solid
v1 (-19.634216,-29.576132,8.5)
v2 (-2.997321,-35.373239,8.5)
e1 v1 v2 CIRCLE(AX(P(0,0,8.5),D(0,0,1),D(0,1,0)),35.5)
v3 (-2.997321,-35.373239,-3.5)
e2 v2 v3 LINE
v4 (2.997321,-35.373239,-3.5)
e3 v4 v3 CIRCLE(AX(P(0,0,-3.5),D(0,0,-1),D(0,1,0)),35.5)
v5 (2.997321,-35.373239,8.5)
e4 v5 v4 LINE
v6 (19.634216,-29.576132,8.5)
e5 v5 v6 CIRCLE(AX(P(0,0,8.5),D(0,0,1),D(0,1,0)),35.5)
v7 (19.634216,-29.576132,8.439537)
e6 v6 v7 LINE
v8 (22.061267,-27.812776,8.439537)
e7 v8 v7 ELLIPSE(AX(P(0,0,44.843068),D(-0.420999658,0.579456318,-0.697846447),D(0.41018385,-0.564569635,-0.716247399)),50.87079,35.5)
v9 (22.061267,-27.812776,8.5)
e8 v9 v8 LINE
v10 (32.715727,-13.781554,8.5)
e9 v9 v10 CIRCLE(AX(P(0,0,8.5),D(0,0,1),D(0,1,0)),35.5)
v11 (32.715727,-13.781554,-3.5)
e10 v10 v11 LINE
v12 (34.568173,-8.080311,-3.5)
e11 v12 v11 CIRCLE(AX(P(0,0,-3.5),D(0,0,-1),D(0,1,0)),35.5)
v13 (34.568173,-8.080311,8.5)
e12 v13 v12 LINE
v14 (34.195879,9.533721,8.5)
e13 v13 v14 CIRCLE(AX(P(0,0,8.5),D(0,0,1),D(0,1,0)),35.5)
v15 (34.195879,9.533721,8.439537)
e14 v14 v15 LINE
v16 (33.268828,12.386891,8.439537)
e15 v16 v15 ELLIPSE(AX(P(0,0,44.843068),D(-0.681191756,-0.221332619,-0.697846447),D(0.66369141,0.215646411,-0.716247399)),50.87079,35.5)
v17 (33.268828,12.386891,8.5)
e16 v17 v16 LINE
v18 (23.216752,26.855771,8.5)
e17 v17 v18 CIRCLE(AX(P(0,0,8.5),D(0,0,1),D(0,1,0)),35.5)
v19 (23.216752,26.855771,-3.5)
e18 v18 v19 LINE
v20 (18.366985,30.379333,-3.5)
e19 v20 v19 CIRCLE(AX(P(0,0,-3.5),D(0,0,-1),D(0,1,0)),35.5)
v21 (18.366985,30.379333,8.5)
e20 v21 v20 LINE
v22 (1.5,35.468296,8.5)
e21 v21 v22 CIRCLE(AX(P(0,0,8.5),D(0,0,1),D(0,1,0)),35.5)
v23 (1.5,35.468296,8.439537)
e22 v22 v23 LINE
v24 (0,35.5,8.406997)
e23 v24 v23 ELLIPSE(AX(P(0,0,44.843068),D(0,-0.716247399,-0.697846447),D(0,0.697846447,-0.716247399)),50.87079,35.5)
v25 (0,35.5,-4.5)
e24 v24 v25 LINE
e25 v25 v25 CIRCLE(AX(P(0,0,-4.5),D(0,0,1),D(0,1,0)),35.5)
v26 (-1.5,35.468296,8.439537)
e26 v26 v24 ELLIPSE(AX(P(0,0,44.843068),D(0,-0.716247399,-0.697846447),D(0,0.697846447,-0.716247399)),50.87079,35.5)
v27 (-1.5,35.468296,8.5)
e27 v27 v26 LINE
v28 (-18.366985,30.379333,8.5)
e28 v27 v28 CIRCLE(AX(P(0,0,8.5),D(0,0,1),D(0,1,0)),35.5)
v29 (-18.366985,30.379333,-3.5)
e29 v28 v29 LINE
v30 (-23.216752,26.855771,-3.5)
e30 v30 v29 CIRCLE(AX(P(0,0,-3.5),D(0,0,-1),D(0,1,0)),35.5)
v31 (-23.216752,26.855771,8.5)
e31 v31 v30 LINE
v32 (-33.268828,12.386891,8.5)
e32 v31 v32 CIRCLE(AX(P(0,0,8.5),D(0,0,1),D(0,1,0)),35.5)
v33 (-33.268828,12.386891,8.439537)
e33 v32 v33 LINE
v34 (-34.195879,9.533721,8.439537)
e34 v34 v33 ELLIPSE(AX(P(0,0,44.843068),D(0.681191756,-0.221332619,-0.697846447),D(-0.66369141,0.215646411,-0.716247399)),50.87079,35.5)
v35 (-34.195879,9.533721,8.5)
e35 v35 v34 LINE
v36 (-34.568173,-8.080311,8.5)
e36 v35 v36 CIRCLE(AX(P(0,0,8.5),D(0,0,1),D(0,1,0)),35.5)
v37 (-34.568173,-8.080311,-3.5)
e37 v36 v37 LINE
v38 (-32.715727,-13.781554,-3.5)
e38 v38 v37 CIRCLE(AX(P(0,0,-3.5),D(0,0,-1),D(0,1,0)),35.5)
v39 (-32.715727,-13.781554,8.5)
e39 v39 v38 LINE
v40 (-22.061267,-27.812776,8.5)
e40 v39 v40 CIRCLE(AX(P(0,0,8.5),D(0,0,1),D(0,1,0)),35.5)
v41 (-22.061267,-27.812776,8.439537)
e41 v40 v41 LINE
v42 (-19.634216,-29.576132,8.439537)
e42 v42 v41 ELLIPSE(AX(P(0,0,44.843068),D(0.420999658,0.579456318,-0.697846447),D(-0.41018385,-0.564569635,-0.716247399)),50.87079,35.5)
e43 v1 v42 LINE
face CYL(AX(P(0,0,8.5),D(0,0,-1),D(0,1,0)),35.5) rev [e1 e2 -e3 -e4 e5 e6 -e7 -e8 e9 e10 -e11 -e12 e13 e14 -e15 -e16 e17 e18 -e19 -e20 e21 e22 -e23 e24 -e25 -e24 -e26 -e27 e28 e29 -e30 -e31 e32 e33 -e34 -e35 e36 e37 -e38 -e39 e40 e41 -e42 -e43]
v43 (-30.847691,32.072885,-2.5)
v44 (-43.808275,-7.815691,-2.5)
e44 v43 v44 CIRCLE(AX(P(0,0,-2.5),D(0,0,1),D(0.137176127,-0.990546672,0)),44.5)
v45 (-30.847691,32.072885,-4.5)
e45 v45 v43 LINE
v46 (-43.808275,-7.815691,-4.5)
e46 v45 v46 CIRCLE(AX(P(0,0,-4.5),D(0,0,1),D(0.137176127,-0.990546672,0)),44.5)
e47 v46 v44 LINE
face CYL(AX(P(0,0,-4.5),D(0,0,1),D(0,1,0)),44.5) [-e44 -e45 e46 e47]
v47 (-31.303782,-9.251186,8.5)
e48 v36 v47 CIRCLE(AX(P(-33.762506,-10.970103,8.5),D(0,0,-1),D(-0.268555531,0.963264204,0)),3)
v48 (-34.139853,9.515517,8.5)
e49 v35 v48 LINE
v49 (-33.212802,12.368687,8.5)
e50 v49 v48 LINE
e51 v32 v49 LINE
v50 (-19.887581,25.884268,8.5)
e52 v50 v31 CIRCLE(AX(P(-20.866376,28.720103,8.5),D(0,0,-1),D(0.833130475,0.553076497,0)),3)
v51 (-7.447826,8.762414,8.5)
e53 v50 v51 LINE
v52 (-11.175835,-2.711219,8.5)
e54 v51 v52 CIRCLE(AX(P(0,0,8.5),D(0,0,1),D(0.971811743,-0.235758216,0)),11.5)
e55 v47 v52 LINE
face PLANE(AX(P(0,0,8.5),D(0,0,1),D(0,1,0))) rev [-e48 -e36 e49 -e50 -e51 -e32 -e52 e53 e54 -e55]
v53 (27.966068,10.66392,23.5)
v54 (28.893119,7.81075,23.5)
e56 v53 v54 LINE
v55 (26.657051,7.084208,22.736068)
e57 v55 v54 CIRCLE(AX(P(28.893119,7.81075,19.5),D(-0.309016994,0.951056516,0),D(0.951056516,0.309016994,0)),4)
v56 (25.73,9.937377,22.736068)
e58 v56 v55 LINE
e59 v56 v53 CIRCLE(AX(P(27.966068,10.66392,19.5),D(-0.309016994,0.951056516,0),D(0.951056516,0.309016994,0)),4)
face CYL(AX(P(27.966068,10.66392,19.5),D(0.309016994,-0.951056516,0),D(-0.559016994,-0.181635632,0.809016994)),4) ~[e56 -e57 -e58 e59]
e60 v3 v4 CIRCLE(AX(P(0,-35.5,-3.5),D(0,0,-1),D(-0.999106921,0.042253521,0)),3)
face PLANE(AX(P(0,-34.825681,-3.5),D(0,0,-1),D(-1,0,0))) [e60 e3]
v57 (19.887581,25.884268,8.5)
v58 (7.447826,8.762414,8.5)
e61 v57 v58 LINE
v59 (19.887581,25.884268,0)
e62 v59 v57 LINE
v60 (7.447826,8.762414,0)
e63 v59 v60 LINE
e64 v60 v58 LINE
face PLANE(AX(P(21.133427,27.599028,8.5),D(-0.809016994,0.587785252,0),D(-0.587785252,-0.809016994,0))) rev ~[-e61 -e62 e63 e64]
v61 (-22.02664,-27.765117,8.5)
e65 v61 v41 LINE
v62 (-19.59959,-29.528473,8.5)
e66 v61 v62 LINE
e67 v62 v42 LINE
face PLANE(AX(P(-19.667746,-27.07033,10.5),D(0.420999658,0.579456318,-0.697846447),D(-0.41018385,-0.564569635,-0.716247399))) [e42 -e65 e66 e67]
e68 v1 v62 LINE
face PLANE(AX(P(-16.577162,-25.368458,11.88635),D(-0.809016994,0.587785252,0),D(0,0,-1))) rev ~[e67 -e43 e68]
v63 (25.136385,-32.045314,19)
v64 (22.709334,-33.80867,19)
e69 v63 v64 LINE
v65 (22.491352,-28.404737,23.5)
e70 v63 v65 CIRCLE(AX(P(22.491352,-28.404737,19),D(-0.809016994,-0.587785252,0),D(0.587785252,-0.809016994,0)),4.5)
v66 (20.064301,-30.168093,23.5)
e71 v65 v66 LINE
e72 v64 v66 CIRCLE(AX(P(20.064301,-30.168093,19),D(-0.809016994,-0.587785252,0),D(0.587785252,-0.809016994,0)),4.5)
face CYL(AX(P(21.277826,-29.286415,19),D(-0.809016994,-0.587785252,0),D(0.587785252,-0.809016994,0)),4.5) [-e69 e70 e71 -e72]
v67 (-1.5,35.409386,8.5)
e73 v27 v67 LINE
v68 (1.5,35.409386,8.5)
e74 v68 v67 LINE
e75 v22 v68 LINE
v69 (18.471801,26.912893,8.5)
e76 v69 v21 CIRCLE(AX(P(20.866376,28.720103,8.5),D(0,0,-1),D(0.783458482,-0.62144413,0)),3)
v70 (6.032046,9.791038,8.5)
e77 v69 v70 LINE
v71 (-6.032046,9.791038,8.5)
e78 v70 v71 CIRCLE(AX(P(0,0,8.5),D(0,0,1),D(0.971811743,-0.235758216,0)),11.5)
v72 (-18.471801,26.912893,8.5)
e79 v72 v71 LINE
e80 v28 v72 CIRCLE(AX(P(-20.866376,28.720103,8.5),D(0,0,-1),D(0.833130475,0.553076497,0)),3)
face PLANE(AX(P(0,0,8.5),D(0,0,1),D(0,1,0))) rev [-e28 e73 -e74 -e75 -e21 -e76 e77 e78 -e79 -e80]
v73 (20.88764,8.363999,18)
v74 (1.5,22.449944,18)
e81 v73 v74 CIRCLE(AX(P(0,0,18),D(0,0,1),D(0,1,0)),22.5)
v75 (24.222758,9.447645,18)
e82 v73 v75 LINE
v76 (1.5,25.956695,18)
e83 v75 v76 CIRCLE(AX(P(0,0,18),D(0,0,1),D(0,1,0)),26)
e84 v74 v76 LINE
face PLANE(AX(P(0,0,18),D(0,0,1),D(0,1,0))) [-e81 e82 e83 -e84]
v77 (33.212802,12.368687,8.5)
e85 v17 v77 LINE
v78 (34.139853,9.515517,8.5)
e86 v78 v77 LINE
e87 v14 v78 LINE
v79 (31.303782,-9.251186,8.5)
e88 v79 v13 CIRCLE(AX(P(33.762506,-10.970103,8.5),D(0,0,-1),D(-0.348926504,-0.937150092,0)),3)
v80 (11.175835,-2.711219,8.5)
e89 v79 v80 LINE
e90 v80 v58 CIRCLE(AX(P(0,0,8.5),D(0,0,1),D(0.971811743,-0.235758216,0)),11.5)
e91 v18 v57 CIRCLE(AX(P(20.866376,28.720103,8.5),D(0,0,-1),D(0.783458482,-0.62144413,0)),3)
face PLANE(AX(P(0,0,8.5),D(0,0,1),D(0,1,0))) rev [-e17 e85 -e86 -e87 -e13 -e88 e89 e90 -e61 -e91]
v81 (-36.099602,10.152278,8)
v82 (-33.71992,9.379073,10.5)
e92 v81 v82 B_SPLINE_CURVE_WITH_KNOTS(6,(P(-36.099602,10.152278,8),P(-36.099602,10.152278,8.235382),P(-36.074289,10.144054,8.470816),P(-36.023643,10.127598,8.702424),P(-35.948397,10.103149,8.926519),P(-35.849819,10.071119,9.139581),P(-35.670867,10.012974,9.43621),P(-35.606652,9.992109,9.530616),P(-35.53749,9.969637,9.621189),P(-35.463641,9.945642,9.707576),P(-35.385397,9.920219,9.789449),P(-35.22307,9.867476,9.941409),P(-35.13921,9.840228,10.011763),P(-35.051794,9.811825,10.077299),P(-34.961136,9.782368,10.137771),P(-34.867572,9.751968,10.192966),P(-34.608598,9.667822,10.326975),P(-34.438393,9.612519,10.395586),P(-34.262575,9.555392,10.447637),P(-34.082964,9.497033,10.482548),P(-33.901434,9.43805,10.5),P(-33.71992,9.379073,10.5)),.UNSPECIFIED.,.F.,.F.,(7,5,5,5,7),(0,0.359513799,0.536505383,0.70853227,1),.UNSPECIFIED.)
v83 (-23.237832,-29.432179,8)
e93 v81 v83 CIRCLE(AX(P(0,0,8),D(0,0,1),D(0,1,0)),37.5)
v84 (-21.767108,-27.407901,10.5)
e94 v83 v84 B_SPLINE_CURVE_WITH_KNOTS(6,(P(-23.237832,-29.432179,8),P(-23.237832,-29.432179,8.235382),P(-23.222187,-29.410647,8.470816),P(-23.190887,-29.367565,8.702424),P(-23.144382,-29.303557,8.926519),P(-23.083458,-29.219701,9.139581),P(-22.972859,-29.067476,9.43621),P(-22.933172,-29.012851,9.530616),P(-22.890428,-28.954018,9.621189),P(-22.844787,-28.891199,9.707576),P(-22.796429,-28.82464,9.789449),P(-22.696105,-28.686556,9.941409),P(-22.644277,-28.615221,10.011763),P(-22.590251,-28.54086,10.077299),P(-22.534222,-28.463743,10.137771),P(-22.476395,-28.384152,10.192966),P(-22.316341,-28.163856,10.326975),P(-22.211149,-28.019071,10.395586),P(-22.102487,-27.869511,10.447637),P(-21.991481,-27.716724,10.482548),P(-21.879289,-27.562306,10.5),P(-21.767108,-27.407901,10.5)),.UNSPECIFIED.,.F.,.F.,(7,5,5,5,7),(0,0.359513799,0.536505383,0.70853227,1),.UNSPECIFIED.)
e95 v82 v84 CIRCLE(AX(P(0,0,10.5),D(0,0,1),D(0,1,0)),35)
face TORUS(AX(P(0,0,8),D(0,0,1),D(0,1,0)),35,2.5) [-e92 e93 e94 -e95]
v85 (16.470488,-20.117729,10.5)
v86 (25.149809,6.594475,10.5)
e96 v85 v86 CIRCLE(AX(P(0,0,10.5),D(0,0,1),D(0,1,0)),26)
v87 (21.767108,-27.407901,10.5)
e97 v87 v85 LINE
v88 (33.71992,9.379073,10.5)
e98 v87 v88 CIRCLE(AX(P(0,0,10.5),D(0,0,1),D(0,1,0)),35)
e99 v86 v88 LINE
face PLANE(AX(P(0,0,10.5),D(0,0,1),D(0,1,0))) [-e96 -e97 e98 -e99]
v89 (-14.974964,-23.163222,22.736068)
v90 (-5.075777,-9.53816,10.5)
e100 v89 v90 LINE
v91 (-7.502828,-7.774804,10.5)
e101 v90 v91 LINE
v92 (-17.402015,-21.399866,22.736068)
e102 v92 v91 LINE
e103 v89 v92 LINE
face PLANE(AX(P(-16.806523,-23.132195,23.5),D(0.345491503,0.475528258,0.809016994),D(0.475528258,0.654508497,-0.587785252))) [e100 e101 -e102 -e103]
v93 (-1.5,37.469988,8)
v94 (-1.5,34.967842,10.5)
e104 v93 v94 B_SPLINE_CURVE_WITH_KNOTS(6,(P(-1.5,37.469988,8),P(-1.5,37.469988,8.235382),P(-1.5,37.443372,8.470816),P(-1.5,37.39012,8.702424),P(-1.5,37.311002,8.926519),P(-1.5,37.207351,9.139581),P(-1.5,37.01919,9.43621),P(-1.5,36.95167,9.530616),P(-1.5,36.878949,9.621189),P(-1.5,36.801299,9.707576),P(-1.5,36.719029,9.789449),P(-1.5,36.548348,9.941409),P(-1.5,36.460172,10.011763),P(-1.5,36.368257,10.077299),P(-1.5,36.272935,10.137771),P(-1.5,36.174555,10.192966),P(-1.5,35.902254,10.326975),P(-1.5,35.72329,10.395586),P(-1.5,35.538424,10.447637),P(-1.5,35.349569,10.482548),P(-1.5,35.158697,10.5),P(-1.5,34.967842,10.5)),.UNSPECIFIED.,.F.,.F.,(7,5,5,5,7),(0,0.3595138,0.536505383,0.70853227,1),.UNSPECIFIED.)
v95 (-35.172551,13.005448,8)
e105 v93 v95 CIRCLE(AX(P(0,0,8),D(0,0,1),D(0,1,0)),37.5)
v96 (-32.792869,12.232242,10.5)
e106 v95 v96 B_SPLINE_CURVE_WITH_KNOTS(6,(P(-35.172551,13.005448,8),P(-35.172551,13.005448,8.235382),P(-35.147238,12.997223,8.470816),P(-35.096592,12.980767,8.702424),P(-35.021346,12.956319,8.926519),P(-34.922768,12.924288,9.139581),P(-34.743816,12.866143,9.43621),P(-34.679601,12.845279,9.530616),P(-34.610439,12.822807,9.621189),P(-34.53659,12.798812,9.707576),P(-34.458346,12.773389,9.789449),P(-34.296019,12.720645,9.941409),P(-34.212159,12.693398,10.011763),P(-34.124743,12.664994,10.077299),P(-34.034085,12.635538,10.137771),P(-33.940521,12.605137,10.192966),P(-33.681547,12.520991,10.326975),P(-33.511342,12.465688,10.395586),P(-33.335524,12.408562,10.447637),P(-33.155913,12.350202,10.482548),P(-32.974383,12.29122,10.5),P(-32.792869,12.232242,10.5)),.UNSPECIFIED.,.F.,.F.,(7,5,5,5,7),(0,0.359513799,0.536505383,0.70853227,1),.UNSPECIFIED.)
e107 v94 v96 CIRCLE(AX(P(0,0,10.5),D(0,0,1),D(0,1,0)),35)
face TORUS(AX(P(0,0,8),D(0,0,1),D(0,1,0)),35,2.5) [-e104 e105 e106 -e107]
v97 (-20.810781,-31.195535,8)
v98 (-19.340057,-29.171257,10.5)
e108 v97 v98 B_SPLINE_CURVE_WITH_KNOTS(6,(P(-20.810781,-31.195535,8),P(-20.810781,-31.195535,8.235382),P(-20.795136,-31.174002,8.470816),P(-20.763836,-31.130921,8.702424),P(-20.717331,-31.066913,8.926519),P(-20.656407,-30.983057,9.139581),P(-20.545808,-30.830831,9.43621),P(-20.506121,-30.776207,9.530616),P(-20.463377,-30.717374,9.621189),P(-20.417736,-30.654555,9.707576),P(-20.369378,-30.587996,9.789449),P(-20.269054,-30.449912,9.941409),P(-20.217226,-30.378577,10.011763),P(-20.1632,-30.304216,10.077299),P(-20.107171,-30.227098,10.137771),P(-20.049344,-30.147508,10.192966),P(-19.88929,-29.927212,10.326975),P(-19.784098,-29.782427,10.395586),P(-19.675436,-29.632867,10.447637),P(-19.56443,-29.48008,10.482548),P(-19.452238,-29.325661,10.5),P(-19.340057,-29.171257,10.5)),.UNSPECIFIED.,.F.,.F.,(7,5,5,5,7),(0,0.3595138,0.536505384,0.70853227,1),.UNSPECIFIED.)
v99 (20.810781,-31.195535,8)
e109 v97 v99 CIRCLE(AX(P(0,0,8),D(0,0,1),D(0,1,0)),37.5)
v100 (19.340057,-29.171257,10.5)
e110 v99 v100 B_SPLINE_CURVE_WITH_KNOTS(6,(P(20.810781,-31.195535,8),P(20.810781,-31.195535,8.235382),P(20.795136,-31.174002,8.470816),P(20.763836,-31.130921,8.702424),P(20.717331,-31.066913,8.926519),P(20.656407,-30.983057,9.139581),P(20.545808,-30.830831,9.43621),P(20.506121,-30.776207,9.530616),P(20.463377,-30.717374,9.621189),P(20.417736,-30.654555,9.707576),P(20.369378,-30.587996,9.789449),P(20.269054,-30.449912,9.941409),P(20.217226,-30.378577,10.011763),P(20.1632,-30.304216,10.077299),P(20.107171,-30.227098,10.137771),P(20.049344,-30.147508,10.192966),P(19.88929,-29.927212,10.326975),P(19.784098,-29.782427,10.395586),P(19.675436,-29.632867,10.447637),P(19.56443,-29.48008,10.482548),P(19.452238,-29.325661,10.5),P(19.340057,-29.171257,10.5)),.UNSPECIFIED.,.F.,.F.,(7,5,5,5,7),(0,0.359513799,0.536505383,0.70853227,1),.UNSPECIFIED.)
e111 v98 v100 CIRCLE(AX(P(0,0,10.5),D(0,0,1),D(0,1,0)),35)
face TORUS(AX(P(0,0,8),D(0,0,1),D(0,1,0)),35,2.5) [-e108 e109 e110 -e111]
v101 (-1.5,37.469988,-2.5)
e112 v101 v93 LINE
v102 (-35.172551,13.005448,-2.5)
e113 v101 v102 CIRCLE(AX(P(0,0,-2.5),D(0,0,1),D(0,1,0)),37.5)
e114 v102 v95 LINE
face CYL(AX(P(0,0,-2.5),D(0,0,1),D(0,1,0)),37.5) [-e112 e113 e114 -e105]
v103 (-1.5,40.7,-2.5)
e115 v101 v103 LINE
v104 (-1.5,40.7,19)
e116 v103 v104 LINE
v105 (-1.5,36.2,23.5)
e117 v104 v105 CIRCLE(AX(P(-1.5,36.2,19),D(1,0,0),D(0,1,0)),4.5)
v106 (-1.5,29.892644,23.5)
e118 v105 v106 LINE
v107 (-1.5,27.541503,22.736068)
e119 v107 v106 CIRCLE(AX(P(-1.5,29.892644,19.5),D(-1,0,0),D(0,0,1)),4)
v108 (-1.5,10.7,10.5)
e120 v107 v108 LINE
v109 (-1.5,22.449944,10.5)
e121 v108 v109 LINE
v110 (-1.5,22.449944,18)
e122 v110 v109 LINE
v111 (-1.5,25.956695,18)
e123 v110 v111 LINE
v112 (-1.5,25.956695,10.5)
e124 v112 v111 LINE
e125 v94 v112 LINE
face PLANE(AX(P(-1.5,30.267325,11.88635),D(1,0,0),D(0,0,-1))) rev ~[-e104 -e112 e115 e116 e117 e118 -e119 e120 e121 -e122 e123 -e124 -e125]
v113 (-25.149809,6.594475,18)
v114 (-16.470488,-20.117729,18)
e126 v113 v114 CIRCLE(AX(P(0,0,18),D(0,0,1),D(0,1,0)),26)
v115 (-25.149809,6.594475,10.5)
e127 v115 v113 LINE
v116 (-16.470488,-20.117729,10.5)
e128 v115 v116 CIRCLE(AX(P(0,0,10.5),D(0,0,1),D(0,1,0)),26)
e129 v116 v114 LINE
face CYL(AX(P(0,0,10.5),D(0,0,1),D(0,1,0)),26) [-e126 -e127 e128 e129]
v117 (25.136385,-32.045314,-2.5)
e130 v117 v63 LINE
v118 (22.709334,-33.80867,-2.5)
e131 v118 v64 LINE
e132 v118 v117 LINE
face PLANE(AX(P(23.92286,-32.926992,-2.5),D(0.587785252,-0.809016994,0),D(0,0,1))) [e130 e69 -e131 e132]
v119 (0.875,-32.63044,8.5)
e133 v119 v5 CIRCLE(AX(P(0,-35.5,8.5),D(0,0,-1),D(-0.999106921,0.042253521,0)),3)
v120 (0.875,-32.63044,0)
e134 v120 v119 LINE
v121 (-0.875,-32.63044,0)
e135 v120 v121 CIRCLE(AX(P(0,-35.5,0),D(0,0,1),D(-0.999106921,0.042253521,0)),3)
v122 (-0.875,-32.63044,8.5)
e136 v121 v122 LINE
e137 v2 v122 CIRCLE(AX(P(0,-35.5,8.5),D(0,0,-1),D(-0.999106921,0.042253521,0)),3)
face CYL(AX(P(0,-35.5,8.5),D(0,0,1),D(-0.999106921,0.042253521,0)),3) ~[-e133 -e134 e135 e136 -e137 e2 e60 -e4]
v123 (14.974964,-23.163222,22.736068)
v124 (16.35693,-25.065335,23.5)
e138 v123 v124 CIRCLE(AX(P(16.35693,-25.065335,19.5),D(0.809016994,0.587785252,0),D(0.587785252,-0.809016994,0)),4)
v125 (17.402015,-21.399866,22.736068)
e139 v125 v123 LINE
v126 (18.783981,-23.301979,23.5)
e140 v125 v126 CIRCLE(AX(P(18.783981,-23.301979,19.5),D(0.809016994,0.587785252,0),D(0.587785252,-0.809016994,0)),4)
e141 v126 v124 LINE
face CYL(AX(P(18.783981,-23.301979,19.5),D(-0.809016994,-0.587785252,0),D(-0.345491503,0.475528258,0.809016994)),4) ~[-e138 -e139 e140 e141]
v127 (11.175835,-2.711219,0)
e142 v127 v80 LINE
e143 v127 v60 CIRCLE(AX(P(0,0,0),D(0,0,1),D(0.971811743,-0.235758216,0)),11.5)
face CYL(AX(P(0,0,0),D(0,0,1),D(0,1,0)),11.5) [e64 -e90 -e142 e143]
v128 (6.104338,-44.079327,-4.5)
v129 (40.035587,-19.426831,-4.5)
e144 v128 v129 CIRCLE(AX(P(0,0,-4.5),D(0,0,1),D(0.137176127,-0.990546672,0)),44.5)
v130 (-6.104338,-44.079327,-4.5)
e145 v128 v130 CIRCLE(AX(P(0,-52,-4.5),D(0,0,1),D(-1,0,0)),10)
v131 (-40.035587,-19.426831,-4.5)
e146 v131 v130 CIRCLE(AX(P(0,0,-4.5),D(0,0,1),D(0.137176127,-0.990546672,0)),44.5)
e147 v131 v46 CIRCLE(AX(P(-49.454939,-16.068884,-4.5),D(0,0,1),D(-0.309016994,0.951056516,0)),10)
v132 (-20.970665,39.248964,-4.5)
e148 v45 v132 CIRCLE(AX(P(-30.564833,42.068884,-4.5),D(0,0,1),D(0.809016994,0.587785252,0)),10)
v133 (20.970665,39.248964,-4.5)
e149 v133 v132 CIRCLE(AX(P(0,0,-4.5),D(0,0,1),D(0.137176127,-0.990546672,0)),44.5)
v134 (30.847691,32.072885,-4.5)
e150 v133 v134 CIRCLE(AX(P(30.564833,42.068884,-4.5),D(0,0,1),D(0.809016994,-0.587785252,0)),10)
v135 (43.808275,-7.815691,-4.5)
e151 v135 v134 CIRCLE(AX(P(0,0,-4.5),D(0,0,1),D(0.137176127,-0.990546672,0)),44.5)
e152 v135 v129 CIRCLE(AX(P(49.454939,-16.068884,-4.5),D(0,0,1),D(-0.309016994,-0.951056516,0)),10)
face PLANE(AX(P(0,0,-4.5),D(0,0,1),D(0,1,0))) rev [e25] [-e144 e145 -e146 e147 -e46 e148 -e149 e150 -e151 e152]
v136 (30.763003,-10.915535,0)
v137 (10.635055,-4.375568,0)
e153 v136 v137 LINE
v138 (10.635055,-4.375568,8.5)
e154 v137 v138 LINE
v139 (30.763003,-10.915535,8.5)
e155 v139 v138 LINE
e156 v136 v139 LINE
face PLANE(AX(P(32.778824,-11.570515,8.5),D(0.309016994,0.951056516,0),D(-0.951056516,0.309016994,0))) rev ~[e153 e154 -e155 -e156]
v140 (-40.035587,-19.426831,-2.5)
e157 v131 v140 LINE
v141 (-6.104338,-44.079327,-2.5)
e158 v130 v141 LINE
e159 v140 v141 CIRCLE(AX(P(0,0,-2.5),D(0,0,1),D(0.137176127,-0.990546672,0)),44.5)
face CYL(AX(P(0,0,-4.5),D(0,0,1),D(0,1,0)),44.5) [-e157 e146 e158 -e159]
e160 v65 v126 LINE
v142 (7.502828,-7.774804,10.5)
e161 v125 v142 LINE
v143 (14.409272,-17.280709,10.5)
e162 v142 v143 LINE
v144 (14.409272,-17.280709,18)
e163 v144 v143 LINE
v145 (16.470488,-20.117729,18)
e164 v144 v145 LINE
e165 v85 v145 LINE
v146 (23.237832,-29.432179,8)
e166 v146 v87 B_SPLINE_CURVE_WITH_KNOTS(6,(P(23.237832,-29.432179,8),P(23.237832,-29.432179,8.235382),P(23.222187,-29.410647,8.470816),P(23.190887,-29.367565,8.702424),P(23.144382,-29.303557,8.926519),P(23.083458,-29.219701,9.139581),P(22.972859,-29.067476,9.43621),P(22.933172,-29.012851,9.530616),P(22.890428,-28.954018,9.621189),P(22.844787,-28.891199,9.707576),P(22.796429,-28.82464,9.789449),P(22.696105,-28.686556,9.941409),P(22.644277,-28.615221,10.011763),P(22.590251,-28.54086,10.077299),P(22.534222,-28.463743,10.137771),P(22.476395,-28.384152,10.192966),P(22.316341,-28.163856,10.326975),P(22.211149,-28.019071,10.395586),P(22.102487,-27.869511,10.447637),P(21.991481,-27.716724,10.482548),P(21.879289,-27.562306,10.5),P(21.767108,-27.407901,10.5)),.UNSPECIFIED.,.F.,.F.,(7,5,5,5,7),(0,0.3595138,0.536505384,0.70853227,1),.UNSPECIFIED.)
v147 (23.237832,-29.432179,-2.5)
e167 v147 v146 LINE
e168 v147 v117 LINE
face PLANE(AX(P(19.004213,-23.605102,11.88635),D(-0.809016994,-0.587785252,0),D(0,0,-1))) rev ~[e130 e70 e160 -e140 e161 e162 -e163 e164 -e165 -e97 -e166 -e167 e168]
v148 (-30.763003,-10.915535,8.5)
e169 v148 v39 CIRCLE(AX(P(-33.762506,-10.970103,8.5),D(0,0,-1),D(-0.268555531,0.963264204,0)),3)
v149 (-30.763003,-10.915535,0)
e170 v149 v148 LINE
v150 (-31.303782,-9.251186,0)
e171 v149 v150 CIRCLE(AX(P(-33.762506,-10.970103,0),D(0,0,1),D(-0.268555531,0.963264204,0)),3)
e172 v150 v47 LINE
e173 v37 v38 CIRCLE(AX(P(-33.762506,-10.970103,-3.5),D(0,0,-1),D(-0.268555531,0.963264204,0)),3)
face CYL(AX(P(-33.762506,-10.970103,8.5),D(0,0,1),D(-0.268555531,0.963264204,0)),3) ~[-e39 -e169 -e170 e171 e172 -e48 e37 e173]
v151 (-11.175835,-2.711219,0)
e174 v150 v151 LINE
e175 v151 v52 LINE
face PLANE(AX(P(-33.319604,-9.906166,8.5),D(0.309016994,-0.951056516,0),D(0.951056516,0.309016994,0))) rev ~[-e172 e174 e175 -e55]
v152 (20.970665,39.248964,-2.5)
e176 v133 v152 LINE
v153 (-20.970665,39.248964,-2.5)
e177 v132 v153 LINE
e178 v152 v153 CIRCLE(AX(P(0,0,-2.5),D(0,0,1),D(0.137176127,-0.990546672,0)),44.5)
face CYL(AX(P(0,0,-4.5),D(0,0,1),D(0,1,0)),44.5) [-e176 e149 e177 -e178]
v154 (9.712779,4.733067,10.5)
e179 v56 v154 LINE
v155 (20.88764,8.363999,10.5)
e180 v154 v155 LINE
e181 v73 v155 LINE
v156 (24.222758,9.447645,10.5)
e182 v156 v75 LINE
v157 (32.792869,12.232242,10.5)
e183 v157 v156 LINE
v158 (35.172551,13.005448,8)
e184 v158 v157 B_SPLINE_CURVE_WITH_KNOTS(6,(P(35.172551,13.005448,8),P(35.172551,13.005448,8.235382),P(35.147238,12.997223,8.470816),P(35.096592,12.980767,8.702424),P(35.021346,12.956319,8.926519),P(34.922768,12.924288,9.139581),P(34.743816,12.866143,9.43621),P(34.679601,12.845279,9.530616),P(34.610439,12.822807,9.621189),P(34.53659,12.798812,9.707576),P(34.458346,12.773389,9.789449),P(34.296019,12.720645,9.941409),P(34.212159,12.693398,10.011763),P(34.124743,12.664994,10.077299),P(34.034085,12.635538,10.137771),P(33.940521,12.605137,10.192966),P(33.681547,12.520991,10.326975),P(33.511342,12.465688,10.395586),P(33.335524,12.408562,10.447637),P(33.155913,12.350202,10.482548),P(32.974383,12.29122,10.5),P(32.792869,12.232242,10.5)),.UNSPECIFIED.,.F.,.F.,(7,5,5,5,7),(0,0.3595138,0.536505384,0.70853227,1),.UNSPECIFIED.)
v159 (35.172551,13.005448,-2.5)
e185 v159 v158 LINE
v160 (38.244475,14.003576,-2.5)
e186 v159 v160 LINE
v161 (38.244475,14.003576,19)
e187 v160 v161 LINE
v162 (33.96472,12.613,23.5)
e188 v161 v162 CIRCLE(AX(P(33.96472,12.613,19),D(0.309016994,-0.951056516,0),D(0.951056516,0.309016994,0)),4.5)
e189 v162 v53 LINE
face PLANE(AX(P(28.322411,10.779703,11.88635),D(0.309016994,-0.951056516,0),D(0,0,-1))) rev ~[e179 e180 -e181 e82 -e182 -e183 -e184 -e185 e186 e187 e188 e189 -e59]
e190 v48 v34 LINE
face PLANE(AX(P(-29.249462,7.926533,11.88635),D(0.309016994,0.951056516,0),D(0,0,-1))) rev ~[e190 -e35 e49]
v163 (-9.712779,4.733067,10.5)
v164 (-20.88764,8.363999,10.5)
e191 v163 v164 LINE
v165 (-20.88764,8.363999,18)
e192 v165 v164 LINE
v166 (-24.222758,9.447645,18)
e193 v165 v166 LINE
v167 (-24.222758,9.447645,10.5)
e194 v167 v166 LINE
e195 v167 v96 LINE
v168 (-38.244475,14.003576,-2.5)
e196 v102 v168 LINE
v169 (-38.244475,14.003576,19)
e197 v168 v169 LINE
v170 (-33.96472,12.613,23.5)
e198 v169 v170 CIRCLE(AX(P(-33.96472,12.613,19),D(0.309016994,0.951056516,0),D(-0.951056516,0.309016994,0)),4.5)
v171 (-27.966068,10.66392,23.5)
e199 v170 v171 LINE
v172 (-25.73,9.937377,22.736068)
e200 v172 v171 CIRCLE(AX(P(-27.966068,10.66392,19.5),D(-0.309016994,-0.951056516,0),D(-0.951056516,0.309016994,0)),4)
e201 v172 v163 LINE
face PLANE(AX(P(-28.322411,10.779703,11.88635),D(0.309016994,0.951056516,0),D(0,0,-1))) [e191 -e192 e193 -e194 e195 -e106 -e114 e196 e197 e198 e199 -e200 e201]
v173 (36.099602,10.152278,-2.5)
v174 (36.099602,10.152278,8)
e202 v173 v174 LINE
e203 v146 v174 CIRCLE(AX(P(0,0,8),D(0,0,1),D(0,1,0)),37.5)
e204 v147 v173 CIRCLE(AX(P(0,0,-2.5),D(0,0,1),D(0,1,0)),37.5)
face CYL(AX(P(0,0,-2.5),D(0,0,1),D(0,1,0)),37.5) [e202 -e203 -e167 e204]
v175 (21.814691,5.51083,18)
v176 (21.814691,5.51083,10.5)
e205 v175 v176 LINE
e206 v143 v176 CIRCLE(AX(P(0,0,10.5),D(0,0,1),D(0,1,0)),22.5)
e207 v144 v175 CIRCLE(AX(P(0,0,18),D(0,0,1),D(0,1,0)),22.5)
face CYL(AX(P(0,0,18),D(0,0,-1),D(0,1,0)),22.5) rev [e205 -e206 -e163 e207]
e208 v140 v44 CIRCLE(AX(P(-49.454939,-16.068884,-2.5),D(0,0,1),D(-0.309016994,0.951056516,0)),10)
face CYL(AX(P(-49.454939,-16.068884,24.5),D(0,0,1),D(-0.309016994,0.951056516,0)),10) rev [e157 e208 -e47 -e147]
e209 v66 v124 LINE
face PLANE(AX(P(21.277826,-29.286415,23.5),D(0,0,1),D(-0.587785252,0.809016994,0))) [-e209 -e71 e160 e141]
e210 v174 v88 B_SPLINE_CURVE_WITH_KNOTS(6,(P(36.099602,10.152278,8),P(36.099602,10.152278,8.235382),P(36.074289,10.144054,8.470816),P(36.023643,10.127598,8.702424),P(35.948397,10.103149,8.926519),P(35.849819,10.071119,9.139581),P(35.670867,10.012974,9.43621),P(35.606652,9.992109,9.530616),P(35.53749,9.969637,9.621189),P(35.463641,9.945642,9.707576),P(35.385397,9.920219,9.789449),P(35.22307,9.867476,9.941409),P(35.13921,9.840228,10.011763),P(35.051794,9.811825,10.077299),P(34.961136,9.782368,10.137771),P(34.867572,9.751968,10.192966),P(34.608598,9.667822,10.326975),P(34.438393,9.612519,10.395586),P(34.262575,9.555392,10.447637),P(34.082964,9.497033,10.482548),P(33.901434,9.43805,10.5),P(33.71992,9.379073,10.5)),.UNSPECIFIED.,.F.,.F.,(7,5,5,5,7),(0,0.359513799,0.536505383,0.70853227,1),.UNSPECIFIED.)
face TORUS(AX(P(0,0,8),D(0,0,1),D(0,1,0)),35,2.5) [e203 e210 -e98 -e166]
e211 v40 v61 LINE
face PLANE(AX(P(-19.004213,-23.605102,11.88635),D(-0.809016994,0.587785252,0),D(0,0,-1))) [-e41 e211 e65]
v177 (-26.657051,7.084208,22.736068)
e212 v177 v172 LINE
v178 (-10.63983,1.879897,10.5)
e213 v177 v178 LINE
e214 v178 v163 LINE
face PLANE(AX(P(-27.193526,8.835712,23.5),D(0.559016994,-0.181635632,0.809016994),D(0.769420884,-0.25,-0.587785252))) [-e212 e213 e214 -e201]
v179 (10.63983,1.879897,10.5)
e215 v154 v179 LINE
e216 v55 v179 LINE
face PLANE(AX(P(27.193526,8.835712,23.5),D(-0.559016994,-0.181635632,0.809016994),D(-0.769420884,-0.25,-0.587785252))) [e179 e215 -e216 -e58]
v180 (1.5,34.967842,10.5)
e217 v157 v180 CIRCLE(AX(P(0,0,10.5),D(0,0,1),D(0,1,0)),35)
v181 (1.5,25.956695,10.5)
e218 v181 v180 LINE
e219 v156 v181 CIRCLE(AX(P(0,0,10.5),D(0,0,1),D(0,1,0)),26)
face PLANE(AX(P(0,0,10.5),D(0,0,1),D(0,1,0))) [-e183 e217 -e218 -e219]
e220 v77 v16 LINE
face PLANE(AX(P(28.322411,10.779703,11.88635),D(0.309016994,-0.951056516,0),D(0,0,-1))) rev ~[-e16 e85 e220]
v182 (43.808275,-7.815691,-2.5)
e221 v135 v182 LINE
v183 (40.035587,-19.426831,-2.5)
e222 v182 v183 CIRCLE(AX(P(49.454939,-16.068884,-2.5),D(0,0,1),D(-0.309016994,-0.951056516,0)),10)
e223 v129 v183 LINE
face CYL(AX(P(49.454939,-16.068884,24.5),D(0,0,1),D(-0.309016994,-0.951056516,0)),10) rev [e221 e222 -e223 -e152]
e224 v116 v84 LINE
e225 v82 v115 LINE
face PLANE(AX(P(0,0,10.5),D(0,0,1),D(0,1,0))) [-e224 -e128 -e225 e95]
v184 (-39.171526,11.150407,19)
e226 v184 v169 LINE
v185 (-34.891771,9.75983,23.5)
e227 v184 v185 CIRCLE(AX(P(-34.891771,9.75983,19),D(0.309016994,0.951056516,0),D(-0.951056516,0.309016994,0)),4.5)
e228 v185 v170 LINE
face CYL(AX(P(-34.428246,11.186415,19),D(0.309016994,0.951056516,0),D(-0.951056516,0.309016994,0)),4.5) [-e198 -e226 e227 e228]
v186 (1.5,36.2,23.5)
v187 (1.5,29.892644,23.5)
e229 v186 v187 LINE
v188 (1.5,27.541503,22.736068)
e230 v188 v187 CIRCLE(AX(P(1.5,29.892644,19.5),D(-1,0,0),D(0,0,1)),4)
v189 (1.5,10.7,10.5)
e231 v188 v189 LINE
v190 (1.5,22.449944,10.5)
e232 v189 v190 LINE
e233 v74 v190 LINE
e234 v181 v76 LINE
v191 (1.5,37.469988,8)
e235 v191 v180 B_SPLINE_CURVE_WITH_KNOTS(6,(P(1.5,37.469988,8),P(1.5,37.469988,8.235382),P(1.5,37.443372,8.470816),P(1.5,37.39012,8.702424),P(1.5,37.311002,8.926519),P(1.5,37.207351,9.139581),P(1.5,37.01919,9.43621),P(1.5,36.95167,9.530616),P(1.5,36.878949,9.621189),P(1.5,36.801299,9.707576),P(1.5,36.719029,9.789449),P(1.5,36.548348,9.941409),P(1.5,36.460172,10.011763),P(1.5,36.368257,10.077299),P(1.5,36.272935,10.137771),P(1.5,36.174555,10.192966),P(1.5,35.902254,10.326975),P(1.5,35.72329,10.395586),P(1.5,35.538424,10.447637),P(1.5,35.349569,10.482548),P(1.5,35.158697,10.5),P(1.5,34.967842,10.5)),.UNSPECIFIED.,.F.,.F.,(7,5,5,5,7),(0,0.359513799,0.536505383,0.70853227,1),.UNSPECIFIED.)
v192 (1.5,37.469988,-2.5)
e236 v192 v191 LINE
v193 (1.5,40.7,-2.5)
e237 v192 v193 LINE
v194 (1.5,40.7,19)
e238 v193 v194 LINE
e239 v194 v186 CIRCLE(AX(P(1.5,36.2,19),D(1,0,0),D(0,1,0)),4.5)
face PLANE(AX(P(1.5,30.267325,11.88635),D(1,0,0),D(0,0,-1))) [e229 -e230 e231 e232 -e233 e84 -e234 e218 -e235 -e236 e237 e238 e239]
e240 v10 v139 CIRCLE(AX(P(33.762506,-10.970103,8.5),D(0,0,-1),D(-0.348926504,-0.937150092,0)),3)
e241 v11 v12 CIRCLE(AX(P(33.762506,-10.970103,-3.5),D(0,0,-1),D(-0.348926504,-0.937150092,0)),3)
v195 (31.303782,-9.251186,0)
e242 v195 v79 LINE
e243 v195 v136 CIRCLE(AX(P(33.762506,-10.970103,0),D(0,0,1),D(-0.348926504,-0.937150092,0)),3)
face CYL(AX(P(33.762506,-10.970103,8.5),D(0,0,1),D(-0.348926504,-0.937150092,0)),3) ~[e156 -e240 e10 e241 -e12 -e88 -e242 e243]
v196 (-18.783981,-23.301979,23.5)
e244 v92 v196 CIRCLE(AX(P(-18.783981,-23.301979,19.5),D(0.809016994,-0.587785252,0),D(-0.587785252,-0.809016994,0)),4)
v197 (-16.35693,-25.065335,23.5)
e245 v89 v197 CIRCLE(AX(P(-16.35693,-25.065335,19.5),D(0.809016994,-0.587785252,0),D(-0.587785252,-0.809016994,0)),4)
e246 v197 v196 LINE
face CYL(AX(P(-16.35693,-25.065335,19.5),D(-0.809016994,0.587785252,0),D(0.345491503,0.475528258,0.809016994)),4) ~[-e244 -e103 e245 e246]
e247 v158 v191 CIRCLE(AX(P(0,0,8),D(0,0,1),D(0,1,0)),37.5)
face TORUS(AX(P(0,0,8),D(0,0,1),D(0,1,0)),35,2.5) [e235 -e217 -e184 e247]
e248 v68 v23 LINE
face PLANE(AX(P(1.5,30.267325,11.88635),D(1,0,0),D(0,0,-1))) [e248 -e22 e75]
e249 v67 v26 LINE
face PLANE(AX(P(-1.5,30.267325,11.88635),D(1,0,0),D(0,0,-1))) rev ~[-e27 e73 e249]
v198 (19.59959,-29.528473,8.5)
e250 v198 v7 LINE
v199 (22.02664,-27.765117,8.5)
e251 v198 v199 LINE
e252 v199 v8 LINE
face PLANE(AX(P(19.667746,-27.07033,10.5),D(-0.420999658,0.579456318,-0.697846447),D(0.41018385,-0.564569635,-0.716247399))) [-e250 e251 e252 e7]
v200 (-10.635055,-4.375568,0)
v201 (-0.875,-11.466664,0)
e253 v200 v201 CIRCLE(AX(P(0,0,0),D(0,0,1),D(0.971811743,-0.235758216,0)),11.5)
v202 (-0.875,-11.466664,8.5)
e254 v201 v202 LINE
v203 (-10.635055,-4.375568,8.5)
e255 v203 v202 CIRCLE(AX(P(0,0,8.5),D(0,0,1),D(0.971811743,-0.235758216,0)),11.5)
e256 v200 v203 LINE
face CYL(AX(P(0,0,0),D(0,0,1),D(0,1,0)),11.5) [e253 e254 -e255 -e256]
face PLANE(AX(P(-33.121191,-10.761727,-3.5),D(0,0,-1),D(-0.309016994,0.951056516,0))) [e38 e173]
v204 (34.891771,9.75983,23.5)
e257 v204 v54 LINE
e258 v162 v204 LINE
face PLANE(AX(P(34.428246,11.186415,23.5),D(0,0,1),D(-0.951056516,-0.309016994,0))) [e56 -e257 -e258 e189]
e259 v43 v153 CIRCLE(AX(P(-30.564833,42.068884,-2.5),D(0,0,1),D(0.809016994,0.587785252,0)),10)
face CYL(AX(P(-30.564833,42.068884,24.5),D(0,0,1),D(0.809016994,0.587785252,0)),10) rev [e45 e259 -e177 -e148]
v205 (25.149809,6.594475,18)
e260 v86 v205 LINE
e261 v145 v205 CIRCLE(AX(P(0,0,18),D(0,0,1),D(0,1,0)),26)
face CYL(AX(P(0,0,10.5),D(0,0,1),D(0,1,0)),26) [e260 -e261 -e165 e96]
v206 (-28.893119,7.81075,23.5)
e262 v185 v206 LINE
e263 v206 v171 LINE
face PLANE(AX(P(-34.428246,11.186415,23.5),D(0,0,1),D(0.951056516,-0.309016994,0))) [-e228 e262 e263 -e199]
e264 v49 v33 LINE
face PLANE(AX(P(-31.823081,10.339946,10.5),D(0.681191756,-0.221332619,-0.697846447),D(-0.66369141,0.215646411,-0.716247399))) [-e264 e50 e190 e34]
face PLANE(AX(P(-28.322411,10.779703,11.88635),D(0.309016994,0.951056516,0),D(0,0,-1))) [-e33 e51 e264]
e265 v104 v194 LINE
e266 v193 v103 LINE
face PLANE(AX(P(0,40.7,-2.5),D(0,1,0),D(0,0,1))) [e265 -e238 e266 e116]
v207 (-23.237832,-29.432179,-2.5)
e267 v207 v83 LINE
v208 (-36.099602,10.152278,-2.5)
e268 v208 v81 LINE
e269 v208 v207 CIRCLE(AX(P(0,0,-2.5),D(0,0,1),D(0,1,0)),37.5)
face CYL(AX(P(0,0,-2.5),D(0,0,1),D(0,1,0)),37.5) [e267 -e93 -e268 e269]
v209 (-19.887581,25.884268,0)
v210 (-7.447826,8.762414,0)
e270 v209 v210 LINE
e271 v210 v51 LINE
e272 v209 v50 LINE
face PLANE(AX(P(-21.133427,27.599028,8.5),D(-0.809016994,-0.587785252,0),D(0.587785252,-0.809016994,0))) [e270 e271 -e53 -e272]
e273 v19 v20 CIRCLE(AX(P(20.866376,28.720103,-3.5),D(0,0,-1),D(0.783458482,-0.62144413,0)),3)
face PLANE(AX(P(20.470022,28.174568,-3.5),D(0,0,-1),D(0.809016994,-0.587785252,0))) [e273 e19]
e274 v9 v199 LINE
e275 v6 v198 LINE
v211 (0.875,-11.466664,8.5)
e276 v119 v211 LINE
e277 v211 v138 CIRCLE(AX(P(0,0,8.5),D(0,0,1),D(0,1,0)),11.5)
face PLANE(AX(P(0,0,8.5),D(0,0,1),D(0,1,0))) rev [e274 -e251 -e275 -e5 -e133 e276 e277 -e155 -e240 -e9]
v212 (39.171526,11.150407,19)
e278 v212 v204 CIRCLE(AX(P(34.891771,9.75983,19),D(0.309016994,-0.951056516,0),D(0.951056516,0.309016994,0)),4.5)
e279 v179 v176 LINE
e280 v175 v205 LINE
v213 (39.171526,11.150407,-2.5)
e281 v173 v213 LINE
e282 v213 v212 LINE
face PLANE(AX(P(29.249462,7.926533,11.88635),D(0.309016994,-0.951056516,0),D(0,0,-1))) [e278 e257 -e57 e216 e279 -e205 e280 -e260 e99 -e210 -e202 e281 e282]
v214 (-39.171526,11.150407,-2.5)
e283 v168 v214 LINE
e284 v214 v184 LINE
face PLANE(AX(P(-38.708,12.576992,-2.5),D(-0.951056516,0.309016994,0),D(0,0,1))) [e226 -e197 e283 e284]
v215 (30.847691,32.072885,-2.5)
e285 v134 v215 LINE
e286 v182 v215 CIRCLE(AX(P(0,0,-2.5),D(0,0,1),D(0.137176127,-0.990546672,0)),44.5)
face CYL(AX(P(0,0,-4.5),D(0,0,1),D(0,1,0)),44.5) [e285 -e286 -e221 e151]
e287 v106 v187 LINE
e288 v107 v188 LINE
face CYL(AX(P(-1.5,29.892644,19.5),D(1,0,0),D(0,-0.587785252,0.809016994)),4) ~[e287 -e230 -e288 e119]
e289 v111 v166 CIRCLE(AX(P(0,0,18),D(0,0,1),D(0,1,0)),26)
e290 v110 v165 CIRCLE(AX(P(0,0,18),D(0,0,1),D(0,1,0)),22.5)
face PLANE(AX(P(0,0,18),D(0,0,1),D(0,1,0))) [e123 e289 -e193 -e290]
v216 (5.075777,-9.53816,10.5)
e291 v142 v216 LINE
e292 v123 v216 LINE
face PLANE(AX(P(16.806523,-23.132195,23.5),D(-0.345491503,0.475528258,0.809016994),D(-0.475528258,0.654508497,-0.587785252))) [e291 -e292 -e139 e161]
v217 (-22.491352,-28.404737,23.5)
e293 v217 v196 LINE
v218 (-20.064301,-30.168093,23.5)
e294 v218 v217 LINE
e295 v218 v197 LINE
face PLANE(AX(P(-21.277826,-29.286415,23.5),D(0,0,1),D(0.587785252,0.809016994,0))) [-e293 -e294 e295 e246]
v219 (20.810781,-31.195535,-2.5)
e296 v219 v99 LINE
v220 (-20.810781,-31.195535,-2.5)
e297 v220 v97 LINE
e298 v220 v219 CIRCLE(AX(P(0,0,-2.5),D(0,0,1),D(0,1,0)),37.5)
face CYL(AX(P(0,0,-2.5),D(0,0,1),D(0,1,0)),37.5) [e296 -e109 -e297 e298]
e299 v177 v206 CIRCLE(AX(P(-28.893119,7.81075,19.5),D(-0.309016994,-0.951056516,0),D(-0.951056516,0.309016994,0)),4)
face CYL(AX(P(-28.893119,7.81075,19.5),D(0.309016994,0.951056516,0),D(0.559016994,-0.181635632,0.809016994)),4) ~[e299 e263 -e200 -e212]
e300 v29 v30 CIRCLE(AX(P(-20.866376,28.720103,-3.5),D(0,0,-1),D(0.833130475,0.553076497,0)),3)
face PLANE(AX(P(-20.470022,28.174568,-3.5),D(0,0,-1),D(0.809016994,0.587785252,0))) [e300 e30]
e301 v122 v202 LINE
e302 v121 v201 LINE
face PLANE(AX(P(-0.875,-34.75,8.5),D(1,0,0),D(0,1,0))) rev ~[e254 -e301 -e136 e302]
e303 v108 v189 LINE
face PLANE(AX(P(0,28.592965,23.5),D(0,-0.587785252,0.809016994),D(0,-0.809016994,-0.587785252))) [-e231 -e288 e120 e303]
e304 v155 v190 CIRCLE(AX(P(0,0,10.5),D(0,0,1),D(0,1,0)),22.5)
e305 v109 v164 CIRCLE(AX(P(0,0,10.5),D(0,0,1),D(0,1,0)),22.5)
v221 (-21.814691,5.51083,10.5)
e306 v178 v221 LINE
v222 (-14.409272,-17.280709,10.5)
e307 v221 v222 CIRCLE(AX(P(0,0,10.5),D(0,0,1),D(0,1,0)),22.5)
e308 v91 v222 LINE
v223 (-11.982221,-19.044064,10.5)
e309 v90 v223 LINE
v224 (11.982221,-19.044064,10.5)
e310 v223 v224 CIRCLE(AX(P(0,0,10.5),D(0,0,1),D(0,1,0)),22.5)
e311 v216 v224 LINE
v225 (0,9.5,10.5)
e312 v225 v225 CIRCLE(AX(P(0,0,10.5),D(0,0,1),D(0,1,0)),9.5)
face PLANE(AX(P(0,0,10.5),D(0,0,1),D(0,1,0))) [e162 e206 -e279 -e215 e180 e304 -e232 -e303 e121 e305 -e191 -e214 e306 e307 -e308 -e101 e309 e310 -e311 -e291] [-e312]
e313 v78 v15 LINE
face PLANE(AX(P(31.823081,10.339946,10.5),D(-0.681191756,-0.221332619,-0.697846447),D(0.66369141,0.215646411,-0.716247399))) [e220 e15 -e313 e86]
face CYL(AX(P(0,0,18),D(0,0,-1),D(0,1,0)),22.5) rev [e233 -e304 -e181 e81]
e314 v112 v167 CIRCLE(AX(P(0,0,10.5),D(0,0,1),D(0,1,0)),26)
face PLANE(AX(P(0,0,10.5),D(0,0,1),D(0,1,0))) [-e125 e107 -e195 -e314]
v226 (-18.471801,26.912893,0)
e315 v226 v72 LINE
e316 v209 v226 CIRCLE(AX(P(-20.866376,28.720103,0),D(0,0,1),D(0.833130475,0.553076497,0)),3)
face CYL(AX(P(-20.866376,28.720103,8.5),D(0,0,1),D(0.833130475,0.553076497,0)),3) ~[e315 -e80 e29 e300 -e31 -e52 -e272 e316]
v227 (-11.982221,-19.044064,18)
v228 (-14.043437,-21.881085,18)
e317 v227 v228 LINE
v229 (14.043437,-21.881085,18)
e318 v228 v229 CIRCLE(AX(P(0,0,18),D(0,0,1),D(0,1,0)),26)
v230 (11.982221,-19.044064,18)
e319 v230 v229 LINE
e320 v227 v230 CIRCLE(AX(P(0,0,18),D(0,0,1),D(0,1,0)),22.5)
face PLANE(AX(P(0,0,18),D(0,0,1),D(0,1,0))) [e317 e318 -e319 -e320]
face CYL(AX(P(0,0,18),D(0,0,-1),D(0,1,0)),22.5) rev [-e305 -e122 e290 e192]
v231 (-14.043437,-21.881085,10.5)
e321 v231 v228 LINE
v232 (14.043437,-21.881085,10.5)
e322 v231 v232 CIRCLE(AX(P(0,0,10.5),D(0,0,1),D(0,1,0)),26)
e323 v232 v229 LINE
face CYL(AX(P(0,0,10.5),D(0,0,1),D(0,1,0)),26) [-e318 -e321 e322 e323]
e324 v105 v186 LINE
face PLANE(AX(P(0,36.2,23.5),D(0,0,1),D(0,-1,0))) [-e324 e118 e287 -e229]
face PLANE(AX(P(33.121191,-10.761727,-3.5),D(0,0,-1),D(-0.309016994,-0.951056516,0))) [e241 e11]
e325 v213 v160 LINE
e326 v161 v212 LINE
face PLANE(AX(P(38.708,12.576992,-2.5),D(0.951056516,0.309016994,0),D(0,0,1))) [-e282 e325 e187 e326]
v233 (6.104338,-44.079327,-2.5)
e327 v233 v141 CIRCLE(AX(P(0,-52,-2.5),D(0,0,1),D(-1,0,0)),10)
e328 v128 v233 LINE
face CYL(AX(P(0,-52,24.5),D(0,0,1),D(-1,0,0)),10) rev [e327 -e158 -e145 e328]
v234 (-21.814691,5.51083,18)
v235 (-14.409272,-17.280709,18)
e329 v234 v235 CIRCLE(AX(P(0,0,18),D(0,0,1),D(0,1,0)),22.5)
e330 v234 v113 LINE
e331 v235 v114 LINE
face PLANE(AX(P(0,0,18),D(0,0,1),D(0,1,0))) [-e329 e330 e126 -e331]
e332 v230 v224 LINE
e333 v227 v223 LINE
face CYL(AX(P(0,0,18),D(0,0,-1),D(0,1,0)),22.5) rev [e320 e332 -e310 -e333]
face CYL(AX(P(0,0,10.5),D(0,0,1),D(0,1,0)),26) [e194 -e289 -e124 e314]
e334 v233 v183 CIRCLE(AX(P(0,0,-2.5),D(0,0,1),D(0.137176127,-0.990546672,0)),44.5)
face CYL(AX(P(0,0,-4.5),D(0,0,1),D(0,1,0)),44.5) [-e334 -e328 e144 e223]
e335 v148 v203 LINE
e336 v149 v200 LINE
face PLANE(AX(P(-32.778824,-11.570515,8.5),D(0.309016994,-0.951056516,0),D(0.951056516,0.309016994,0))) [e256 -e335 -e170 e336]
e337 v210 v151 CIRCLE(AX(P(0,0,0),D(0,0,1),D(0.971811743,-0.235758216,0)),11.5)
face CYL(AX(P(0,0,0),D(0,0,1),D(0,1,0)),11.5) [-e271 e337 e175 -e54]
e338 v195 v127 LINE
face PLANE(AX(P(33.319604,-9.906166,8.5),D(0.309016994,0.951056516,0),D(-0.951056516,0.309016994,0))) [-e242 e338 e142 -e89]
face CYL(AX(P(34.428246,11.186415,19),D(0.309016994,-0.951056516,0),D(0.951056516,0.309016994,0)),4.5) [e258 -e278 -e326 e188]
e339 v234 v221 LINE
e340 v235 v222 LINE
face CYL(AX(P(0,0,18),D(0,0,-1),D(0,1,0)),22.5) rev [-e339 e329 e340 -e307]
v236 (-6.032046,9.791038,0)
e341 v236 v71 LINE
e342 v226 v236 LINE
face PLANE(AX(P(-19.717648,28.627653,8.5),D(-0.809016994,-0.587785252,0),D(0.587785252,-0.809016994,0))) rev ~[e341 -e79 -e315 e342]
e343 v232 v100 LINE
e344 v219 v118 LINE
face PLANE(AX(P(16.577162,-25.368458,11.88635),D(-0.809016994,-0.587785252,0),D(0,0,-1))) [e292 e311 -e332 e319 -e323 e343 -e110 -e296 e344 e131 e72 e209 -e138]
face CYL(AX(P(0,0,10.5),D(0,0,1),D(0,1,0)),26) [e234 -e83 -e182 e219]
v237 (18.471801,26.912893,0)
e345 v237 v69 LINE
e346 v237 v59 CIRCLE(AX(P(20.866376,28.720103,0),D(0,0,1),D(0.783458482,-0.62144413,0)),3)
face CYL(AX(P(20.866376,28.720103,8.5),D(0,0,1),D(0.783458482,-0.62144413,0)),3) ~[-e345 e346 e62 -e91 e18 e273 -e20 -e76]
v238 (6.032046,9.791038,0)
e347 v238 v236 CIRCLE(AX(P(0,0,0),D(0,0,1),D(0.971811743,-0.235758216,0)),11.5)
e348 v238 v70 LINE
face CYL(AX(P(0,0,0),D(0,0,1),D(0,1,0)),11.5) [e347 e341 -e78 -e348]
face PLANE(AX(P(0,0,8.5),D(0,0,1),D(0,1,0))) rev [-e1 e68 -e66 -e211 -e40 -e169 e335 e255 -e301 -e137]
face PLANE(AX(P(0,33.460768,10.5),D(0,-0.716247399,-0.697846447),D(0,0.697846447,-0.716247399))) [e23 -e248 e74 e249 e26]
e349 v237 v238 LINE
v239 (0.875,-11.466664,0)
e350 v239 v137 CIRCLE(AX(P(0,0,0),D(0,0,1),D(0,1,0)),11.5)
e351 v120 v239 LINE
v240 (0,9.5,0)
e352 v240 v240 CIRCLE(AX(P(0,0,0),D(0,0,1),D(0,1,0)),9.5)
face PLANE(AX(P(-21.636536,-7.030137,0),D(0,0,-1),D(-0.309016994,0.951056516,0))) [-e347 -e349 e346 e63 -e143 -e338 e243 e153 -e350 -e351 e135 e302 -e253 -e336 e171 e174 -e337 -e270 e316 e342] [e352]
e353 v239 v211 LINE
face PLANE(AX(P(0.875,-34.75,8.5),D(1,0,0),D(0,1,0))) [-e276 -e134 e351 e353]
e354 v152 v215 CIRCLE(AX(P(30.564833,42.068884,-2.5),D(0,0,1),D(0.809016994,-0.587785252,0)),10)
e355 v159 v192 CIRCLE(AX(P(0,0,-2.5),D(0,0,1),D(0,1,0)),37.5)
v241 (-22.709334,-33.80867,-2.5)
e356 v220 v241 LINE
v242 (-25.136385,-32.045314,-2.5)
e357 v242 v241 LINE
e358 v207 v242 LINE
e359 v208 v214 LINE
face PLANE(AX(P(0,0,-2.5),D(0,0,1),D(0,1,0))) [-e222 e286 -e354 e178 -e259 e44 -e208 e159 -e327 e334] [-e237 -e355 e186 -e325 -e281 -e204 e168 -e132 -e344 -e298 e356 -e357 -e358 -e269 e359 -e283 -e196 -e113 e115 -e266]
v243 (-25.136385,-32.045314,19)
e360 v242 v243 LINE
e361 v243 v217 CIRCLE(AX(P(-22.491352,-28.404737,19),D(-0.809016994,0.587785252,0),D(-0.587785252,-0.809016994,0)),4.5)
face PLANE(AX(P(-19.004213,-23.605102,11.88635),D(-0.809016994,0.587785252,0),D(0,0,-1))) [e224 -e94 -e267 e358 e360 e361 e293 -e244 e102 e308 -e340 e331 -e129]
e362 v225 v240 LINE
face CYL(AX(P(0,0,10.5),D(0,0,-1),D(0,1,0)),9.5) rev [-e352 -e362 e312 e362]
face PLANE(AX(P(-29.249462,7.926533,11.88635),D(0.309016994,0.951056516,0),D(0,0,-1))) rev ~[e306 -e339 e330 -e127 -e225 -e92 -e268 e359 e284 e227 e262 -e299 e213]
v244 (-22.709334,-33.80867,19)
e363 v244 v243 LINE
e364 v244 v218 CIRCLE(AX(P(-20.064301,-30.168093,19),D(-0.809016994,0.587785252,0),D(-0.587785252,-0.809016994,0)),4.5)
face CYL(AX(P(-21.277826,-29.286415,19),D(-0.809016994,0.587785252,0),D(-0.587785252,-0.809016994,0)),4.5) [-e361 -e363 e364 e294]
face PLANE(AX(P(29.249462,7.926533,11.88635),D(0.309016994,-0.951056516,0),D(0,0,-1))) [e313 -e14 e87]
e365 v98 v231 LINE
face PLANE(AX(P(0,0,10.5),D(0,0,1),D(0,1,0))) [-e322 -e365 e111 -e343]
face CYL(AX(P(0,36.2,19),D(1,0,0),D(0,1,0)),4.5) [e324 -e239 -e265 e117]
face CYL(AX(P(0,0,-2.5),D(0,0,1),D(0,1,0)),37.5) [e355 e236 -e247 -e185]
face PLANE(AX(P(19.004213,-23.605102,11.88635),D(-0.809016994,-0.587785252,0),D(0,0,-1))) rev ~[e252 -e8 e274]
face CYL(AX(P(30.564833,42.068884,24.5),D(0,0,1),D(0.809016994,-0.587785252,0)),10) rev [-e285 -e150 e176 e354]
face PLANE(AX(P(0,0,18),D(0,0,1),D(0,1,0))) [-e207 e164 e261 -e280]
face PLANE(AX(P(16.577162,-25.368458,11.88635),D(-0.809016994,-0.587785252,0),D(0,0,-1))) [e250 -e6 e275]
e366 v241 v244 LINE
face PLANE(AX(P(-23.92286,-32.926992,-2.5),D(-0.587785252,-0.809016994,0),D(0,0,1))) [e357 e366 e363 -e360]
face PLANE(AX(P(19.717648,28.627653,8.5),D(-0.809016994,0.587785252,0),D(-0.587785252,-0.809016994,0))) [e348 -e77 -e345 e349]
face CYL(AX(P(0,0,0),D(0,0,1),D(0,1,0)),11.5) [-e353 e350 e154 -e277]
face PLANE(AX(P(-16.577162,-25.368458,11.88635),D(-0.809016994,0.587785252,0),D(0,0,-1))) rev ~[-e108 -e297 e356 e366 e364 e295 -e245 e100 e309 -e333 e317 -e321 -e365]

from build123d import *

# Parameters (mm, degrees)
FILLET1_R                = 2.5
BOSS_EXTRUDE1_DEPTH      = 1.5
FILLET2_R                = 4
CIRPATTERN1_COUNT        = 5
FILLET2_OF_CIRPATTERN1_R = 4
CUT_EXTRUDE1_START       = -29.0000001
SKETCH4_R                = 10
CUT_EXTRUDE1_DEPTH       = 30.0000001
BOSS_EXTRUDE2_DEPTH      = 12
SKETCH6_W                = 1.75
SKETCH6_H                = 24
BOSS_EXTRUDE3_DEPTH      = 8.5
CIRPATTERN2_COUNT        = 5


with BuildPart() as part:
    # Sketch2 → Revolve1 (revolve)
    with BuildSketch(Plane(origin=(0, 0, 0), x_dir=(0, 0, -1), z_dir=(1, 0, 0))):
        Polygon((2.5, 44.5), (2.5, 37.5), (-10.5, 37.5), (-10.5, 26), (-18, 26), (-18, 22.5), (-10.5, 22.5), (-10.5, 9.5), (0, 9.5), (0, 11.5), (-8.5, 11.5), (-8.5, 35.5), (4.5, 35.5), (4.5, 44.5), align=None)
    revolve(axis=Axis((0, 0, -45.438153482), (0, 0, 1)))

    # Fillet1
    fillet1_edges = [part.edges().sort_by_distance(p)[0] for p in [
        (0, -37.5, 10.5),
    ]]
    fillet(fillet1_edges, radius=FILLET1_R)

    # Sketch3 → Boss-Extrude1 (add, symmetric)
    with BuildSketch(Plane(origin=(0, 0, 0), x_dir=(0, 0, -1), z_dir=(1, 0, 0))):
        with BuildLine():
            Line((2.5, 40.7), (-19, 40.7))
            ThreePointArc((-19, 40.7), (-22.181980515, 39.381980515), (-23.5, 36.2))
            Line((-23.5, 36.2), (-23.5, 28.592964966))
            Line((-23.5, 28.592964966), (-10.5, 10.7))
            Line((-10.5, 10.7), (-10.5, 33.460767767))
            Line((-10.5, 33.460767767), (-6.918763004, 36.95))
            Line((-6.918763004, 36.95), (2.5, 36.95))
            Line((2.5, 36.95), (2.5, 40.7))
        make_face()
    boss_extrude1 = extrude(amount=BOSS_EXTRUDE1_DEPTH, both=True)

    # Fillet2
    fillet2_edges = [part.edges().sort_by_distance(p)[0] for p in [
        (0, 28.592964966, 23.5),
    ]]
    fillet(fillet2_edges, radius=FILLET2_R)

    # CirPattern1: Boss-Extrude1 ×5 about axis
    cirpattern1_axis = Axis((0, 0, 0), (0, 0, 1))
    for i in range(1, CIRPATTERN1_COUNT):
        add(boss_extrude1.rotate(cirpattern1_axis, i * 360 / CIRPATTERN1_COUNT))

    # Fillet2 of CirPattern1
    fillet2_of_cirpattern1_edges = [part.edges().sort_by_distance(p)[0] for p in [
        (-27.193525651, 8.835712094, 23.5),
        (-16.806523126, -23.132194577, 23.5),
        (16.806523126, -23.132194577, 23.5),
        (27.193525651, 8.835712094, 23.5),
    ]]
    fillet(fillet2_of_cirpattern1_edges, radius=FILLET2_OF_CIRPATTERN1_R)

    # Sketch4 → Cut-Extrude1 (cut)
    with BuildSketch(Plane(origin=(0, 0, -4.5), x_dir=(-1, 0, 0), z_dir=(0, 0, -1)).offset(CUT_EXTRUDE1_START)):
        with Locations((0, -52)):
            Circle(SKETCH4_R)
    cut_extrude1 = extrude(amount=CUT_EXTRUDE1_DEPTH, mode=Mode.SUBTRACT)

    # Sketch5 → Boss-Extrude2 (add)
    with BuildSketch(Plane(origin=(0, 0, 8.5), x_dir=(-1, 0, 0), z_dir=(0, 0, -1))):
        with BuildLine():
            Line((-2.997320764, -35.373239437), (0, -37.103743386))
            Line((0, -37.103743386), (2.997320764, -35.373239437))
            ThreePointArc((2.997320764, -35.373239437), (0, -32.5), (-2.997320764, -35.373239437))
        make_face()
    boss_extrude2 = extrude(amount=BOSS_EXTRUDE2_DEPTH)

    # Sketch6 → Boss-Extrude3 (add)
    with BuildSketch(Plane(origin=(0, 0, 8.5), x_dir=(-1, 0, 0), z_dir=(0, 0, -1))):
        with Locations((0, -22.75)):
            Rectangle(SKETCH6_W, SKETCH6_H)
    boss_extrude3 = extrude(amount=BOSS_EXTRUDE3_DEPTH)

    # CirPattern2: Cut-Extrude1, Boss-Extrude2, Boss-Extrude3 ×5 about axis
    cirpattern2_axis = Axis((0, 0, 0), (0, 0, 1))
    for i in range(1, CIRPATTERN2_COUNT):
        add(cut_extrude1.rotate(cirpattern2_axis, i * 360 / CIRPATTERN2_COUNT), mode=Mode.SUBTRACT)
        add(boss_extrude2.rotate(cirpattern2_axis, i * 360 / CIRPATTERN2_COUNT))
        add(boss_extrude3.rotate(cirpattern2_axis, i * 360 / CIRPATTERN2_COUNT))


solid = part.part
